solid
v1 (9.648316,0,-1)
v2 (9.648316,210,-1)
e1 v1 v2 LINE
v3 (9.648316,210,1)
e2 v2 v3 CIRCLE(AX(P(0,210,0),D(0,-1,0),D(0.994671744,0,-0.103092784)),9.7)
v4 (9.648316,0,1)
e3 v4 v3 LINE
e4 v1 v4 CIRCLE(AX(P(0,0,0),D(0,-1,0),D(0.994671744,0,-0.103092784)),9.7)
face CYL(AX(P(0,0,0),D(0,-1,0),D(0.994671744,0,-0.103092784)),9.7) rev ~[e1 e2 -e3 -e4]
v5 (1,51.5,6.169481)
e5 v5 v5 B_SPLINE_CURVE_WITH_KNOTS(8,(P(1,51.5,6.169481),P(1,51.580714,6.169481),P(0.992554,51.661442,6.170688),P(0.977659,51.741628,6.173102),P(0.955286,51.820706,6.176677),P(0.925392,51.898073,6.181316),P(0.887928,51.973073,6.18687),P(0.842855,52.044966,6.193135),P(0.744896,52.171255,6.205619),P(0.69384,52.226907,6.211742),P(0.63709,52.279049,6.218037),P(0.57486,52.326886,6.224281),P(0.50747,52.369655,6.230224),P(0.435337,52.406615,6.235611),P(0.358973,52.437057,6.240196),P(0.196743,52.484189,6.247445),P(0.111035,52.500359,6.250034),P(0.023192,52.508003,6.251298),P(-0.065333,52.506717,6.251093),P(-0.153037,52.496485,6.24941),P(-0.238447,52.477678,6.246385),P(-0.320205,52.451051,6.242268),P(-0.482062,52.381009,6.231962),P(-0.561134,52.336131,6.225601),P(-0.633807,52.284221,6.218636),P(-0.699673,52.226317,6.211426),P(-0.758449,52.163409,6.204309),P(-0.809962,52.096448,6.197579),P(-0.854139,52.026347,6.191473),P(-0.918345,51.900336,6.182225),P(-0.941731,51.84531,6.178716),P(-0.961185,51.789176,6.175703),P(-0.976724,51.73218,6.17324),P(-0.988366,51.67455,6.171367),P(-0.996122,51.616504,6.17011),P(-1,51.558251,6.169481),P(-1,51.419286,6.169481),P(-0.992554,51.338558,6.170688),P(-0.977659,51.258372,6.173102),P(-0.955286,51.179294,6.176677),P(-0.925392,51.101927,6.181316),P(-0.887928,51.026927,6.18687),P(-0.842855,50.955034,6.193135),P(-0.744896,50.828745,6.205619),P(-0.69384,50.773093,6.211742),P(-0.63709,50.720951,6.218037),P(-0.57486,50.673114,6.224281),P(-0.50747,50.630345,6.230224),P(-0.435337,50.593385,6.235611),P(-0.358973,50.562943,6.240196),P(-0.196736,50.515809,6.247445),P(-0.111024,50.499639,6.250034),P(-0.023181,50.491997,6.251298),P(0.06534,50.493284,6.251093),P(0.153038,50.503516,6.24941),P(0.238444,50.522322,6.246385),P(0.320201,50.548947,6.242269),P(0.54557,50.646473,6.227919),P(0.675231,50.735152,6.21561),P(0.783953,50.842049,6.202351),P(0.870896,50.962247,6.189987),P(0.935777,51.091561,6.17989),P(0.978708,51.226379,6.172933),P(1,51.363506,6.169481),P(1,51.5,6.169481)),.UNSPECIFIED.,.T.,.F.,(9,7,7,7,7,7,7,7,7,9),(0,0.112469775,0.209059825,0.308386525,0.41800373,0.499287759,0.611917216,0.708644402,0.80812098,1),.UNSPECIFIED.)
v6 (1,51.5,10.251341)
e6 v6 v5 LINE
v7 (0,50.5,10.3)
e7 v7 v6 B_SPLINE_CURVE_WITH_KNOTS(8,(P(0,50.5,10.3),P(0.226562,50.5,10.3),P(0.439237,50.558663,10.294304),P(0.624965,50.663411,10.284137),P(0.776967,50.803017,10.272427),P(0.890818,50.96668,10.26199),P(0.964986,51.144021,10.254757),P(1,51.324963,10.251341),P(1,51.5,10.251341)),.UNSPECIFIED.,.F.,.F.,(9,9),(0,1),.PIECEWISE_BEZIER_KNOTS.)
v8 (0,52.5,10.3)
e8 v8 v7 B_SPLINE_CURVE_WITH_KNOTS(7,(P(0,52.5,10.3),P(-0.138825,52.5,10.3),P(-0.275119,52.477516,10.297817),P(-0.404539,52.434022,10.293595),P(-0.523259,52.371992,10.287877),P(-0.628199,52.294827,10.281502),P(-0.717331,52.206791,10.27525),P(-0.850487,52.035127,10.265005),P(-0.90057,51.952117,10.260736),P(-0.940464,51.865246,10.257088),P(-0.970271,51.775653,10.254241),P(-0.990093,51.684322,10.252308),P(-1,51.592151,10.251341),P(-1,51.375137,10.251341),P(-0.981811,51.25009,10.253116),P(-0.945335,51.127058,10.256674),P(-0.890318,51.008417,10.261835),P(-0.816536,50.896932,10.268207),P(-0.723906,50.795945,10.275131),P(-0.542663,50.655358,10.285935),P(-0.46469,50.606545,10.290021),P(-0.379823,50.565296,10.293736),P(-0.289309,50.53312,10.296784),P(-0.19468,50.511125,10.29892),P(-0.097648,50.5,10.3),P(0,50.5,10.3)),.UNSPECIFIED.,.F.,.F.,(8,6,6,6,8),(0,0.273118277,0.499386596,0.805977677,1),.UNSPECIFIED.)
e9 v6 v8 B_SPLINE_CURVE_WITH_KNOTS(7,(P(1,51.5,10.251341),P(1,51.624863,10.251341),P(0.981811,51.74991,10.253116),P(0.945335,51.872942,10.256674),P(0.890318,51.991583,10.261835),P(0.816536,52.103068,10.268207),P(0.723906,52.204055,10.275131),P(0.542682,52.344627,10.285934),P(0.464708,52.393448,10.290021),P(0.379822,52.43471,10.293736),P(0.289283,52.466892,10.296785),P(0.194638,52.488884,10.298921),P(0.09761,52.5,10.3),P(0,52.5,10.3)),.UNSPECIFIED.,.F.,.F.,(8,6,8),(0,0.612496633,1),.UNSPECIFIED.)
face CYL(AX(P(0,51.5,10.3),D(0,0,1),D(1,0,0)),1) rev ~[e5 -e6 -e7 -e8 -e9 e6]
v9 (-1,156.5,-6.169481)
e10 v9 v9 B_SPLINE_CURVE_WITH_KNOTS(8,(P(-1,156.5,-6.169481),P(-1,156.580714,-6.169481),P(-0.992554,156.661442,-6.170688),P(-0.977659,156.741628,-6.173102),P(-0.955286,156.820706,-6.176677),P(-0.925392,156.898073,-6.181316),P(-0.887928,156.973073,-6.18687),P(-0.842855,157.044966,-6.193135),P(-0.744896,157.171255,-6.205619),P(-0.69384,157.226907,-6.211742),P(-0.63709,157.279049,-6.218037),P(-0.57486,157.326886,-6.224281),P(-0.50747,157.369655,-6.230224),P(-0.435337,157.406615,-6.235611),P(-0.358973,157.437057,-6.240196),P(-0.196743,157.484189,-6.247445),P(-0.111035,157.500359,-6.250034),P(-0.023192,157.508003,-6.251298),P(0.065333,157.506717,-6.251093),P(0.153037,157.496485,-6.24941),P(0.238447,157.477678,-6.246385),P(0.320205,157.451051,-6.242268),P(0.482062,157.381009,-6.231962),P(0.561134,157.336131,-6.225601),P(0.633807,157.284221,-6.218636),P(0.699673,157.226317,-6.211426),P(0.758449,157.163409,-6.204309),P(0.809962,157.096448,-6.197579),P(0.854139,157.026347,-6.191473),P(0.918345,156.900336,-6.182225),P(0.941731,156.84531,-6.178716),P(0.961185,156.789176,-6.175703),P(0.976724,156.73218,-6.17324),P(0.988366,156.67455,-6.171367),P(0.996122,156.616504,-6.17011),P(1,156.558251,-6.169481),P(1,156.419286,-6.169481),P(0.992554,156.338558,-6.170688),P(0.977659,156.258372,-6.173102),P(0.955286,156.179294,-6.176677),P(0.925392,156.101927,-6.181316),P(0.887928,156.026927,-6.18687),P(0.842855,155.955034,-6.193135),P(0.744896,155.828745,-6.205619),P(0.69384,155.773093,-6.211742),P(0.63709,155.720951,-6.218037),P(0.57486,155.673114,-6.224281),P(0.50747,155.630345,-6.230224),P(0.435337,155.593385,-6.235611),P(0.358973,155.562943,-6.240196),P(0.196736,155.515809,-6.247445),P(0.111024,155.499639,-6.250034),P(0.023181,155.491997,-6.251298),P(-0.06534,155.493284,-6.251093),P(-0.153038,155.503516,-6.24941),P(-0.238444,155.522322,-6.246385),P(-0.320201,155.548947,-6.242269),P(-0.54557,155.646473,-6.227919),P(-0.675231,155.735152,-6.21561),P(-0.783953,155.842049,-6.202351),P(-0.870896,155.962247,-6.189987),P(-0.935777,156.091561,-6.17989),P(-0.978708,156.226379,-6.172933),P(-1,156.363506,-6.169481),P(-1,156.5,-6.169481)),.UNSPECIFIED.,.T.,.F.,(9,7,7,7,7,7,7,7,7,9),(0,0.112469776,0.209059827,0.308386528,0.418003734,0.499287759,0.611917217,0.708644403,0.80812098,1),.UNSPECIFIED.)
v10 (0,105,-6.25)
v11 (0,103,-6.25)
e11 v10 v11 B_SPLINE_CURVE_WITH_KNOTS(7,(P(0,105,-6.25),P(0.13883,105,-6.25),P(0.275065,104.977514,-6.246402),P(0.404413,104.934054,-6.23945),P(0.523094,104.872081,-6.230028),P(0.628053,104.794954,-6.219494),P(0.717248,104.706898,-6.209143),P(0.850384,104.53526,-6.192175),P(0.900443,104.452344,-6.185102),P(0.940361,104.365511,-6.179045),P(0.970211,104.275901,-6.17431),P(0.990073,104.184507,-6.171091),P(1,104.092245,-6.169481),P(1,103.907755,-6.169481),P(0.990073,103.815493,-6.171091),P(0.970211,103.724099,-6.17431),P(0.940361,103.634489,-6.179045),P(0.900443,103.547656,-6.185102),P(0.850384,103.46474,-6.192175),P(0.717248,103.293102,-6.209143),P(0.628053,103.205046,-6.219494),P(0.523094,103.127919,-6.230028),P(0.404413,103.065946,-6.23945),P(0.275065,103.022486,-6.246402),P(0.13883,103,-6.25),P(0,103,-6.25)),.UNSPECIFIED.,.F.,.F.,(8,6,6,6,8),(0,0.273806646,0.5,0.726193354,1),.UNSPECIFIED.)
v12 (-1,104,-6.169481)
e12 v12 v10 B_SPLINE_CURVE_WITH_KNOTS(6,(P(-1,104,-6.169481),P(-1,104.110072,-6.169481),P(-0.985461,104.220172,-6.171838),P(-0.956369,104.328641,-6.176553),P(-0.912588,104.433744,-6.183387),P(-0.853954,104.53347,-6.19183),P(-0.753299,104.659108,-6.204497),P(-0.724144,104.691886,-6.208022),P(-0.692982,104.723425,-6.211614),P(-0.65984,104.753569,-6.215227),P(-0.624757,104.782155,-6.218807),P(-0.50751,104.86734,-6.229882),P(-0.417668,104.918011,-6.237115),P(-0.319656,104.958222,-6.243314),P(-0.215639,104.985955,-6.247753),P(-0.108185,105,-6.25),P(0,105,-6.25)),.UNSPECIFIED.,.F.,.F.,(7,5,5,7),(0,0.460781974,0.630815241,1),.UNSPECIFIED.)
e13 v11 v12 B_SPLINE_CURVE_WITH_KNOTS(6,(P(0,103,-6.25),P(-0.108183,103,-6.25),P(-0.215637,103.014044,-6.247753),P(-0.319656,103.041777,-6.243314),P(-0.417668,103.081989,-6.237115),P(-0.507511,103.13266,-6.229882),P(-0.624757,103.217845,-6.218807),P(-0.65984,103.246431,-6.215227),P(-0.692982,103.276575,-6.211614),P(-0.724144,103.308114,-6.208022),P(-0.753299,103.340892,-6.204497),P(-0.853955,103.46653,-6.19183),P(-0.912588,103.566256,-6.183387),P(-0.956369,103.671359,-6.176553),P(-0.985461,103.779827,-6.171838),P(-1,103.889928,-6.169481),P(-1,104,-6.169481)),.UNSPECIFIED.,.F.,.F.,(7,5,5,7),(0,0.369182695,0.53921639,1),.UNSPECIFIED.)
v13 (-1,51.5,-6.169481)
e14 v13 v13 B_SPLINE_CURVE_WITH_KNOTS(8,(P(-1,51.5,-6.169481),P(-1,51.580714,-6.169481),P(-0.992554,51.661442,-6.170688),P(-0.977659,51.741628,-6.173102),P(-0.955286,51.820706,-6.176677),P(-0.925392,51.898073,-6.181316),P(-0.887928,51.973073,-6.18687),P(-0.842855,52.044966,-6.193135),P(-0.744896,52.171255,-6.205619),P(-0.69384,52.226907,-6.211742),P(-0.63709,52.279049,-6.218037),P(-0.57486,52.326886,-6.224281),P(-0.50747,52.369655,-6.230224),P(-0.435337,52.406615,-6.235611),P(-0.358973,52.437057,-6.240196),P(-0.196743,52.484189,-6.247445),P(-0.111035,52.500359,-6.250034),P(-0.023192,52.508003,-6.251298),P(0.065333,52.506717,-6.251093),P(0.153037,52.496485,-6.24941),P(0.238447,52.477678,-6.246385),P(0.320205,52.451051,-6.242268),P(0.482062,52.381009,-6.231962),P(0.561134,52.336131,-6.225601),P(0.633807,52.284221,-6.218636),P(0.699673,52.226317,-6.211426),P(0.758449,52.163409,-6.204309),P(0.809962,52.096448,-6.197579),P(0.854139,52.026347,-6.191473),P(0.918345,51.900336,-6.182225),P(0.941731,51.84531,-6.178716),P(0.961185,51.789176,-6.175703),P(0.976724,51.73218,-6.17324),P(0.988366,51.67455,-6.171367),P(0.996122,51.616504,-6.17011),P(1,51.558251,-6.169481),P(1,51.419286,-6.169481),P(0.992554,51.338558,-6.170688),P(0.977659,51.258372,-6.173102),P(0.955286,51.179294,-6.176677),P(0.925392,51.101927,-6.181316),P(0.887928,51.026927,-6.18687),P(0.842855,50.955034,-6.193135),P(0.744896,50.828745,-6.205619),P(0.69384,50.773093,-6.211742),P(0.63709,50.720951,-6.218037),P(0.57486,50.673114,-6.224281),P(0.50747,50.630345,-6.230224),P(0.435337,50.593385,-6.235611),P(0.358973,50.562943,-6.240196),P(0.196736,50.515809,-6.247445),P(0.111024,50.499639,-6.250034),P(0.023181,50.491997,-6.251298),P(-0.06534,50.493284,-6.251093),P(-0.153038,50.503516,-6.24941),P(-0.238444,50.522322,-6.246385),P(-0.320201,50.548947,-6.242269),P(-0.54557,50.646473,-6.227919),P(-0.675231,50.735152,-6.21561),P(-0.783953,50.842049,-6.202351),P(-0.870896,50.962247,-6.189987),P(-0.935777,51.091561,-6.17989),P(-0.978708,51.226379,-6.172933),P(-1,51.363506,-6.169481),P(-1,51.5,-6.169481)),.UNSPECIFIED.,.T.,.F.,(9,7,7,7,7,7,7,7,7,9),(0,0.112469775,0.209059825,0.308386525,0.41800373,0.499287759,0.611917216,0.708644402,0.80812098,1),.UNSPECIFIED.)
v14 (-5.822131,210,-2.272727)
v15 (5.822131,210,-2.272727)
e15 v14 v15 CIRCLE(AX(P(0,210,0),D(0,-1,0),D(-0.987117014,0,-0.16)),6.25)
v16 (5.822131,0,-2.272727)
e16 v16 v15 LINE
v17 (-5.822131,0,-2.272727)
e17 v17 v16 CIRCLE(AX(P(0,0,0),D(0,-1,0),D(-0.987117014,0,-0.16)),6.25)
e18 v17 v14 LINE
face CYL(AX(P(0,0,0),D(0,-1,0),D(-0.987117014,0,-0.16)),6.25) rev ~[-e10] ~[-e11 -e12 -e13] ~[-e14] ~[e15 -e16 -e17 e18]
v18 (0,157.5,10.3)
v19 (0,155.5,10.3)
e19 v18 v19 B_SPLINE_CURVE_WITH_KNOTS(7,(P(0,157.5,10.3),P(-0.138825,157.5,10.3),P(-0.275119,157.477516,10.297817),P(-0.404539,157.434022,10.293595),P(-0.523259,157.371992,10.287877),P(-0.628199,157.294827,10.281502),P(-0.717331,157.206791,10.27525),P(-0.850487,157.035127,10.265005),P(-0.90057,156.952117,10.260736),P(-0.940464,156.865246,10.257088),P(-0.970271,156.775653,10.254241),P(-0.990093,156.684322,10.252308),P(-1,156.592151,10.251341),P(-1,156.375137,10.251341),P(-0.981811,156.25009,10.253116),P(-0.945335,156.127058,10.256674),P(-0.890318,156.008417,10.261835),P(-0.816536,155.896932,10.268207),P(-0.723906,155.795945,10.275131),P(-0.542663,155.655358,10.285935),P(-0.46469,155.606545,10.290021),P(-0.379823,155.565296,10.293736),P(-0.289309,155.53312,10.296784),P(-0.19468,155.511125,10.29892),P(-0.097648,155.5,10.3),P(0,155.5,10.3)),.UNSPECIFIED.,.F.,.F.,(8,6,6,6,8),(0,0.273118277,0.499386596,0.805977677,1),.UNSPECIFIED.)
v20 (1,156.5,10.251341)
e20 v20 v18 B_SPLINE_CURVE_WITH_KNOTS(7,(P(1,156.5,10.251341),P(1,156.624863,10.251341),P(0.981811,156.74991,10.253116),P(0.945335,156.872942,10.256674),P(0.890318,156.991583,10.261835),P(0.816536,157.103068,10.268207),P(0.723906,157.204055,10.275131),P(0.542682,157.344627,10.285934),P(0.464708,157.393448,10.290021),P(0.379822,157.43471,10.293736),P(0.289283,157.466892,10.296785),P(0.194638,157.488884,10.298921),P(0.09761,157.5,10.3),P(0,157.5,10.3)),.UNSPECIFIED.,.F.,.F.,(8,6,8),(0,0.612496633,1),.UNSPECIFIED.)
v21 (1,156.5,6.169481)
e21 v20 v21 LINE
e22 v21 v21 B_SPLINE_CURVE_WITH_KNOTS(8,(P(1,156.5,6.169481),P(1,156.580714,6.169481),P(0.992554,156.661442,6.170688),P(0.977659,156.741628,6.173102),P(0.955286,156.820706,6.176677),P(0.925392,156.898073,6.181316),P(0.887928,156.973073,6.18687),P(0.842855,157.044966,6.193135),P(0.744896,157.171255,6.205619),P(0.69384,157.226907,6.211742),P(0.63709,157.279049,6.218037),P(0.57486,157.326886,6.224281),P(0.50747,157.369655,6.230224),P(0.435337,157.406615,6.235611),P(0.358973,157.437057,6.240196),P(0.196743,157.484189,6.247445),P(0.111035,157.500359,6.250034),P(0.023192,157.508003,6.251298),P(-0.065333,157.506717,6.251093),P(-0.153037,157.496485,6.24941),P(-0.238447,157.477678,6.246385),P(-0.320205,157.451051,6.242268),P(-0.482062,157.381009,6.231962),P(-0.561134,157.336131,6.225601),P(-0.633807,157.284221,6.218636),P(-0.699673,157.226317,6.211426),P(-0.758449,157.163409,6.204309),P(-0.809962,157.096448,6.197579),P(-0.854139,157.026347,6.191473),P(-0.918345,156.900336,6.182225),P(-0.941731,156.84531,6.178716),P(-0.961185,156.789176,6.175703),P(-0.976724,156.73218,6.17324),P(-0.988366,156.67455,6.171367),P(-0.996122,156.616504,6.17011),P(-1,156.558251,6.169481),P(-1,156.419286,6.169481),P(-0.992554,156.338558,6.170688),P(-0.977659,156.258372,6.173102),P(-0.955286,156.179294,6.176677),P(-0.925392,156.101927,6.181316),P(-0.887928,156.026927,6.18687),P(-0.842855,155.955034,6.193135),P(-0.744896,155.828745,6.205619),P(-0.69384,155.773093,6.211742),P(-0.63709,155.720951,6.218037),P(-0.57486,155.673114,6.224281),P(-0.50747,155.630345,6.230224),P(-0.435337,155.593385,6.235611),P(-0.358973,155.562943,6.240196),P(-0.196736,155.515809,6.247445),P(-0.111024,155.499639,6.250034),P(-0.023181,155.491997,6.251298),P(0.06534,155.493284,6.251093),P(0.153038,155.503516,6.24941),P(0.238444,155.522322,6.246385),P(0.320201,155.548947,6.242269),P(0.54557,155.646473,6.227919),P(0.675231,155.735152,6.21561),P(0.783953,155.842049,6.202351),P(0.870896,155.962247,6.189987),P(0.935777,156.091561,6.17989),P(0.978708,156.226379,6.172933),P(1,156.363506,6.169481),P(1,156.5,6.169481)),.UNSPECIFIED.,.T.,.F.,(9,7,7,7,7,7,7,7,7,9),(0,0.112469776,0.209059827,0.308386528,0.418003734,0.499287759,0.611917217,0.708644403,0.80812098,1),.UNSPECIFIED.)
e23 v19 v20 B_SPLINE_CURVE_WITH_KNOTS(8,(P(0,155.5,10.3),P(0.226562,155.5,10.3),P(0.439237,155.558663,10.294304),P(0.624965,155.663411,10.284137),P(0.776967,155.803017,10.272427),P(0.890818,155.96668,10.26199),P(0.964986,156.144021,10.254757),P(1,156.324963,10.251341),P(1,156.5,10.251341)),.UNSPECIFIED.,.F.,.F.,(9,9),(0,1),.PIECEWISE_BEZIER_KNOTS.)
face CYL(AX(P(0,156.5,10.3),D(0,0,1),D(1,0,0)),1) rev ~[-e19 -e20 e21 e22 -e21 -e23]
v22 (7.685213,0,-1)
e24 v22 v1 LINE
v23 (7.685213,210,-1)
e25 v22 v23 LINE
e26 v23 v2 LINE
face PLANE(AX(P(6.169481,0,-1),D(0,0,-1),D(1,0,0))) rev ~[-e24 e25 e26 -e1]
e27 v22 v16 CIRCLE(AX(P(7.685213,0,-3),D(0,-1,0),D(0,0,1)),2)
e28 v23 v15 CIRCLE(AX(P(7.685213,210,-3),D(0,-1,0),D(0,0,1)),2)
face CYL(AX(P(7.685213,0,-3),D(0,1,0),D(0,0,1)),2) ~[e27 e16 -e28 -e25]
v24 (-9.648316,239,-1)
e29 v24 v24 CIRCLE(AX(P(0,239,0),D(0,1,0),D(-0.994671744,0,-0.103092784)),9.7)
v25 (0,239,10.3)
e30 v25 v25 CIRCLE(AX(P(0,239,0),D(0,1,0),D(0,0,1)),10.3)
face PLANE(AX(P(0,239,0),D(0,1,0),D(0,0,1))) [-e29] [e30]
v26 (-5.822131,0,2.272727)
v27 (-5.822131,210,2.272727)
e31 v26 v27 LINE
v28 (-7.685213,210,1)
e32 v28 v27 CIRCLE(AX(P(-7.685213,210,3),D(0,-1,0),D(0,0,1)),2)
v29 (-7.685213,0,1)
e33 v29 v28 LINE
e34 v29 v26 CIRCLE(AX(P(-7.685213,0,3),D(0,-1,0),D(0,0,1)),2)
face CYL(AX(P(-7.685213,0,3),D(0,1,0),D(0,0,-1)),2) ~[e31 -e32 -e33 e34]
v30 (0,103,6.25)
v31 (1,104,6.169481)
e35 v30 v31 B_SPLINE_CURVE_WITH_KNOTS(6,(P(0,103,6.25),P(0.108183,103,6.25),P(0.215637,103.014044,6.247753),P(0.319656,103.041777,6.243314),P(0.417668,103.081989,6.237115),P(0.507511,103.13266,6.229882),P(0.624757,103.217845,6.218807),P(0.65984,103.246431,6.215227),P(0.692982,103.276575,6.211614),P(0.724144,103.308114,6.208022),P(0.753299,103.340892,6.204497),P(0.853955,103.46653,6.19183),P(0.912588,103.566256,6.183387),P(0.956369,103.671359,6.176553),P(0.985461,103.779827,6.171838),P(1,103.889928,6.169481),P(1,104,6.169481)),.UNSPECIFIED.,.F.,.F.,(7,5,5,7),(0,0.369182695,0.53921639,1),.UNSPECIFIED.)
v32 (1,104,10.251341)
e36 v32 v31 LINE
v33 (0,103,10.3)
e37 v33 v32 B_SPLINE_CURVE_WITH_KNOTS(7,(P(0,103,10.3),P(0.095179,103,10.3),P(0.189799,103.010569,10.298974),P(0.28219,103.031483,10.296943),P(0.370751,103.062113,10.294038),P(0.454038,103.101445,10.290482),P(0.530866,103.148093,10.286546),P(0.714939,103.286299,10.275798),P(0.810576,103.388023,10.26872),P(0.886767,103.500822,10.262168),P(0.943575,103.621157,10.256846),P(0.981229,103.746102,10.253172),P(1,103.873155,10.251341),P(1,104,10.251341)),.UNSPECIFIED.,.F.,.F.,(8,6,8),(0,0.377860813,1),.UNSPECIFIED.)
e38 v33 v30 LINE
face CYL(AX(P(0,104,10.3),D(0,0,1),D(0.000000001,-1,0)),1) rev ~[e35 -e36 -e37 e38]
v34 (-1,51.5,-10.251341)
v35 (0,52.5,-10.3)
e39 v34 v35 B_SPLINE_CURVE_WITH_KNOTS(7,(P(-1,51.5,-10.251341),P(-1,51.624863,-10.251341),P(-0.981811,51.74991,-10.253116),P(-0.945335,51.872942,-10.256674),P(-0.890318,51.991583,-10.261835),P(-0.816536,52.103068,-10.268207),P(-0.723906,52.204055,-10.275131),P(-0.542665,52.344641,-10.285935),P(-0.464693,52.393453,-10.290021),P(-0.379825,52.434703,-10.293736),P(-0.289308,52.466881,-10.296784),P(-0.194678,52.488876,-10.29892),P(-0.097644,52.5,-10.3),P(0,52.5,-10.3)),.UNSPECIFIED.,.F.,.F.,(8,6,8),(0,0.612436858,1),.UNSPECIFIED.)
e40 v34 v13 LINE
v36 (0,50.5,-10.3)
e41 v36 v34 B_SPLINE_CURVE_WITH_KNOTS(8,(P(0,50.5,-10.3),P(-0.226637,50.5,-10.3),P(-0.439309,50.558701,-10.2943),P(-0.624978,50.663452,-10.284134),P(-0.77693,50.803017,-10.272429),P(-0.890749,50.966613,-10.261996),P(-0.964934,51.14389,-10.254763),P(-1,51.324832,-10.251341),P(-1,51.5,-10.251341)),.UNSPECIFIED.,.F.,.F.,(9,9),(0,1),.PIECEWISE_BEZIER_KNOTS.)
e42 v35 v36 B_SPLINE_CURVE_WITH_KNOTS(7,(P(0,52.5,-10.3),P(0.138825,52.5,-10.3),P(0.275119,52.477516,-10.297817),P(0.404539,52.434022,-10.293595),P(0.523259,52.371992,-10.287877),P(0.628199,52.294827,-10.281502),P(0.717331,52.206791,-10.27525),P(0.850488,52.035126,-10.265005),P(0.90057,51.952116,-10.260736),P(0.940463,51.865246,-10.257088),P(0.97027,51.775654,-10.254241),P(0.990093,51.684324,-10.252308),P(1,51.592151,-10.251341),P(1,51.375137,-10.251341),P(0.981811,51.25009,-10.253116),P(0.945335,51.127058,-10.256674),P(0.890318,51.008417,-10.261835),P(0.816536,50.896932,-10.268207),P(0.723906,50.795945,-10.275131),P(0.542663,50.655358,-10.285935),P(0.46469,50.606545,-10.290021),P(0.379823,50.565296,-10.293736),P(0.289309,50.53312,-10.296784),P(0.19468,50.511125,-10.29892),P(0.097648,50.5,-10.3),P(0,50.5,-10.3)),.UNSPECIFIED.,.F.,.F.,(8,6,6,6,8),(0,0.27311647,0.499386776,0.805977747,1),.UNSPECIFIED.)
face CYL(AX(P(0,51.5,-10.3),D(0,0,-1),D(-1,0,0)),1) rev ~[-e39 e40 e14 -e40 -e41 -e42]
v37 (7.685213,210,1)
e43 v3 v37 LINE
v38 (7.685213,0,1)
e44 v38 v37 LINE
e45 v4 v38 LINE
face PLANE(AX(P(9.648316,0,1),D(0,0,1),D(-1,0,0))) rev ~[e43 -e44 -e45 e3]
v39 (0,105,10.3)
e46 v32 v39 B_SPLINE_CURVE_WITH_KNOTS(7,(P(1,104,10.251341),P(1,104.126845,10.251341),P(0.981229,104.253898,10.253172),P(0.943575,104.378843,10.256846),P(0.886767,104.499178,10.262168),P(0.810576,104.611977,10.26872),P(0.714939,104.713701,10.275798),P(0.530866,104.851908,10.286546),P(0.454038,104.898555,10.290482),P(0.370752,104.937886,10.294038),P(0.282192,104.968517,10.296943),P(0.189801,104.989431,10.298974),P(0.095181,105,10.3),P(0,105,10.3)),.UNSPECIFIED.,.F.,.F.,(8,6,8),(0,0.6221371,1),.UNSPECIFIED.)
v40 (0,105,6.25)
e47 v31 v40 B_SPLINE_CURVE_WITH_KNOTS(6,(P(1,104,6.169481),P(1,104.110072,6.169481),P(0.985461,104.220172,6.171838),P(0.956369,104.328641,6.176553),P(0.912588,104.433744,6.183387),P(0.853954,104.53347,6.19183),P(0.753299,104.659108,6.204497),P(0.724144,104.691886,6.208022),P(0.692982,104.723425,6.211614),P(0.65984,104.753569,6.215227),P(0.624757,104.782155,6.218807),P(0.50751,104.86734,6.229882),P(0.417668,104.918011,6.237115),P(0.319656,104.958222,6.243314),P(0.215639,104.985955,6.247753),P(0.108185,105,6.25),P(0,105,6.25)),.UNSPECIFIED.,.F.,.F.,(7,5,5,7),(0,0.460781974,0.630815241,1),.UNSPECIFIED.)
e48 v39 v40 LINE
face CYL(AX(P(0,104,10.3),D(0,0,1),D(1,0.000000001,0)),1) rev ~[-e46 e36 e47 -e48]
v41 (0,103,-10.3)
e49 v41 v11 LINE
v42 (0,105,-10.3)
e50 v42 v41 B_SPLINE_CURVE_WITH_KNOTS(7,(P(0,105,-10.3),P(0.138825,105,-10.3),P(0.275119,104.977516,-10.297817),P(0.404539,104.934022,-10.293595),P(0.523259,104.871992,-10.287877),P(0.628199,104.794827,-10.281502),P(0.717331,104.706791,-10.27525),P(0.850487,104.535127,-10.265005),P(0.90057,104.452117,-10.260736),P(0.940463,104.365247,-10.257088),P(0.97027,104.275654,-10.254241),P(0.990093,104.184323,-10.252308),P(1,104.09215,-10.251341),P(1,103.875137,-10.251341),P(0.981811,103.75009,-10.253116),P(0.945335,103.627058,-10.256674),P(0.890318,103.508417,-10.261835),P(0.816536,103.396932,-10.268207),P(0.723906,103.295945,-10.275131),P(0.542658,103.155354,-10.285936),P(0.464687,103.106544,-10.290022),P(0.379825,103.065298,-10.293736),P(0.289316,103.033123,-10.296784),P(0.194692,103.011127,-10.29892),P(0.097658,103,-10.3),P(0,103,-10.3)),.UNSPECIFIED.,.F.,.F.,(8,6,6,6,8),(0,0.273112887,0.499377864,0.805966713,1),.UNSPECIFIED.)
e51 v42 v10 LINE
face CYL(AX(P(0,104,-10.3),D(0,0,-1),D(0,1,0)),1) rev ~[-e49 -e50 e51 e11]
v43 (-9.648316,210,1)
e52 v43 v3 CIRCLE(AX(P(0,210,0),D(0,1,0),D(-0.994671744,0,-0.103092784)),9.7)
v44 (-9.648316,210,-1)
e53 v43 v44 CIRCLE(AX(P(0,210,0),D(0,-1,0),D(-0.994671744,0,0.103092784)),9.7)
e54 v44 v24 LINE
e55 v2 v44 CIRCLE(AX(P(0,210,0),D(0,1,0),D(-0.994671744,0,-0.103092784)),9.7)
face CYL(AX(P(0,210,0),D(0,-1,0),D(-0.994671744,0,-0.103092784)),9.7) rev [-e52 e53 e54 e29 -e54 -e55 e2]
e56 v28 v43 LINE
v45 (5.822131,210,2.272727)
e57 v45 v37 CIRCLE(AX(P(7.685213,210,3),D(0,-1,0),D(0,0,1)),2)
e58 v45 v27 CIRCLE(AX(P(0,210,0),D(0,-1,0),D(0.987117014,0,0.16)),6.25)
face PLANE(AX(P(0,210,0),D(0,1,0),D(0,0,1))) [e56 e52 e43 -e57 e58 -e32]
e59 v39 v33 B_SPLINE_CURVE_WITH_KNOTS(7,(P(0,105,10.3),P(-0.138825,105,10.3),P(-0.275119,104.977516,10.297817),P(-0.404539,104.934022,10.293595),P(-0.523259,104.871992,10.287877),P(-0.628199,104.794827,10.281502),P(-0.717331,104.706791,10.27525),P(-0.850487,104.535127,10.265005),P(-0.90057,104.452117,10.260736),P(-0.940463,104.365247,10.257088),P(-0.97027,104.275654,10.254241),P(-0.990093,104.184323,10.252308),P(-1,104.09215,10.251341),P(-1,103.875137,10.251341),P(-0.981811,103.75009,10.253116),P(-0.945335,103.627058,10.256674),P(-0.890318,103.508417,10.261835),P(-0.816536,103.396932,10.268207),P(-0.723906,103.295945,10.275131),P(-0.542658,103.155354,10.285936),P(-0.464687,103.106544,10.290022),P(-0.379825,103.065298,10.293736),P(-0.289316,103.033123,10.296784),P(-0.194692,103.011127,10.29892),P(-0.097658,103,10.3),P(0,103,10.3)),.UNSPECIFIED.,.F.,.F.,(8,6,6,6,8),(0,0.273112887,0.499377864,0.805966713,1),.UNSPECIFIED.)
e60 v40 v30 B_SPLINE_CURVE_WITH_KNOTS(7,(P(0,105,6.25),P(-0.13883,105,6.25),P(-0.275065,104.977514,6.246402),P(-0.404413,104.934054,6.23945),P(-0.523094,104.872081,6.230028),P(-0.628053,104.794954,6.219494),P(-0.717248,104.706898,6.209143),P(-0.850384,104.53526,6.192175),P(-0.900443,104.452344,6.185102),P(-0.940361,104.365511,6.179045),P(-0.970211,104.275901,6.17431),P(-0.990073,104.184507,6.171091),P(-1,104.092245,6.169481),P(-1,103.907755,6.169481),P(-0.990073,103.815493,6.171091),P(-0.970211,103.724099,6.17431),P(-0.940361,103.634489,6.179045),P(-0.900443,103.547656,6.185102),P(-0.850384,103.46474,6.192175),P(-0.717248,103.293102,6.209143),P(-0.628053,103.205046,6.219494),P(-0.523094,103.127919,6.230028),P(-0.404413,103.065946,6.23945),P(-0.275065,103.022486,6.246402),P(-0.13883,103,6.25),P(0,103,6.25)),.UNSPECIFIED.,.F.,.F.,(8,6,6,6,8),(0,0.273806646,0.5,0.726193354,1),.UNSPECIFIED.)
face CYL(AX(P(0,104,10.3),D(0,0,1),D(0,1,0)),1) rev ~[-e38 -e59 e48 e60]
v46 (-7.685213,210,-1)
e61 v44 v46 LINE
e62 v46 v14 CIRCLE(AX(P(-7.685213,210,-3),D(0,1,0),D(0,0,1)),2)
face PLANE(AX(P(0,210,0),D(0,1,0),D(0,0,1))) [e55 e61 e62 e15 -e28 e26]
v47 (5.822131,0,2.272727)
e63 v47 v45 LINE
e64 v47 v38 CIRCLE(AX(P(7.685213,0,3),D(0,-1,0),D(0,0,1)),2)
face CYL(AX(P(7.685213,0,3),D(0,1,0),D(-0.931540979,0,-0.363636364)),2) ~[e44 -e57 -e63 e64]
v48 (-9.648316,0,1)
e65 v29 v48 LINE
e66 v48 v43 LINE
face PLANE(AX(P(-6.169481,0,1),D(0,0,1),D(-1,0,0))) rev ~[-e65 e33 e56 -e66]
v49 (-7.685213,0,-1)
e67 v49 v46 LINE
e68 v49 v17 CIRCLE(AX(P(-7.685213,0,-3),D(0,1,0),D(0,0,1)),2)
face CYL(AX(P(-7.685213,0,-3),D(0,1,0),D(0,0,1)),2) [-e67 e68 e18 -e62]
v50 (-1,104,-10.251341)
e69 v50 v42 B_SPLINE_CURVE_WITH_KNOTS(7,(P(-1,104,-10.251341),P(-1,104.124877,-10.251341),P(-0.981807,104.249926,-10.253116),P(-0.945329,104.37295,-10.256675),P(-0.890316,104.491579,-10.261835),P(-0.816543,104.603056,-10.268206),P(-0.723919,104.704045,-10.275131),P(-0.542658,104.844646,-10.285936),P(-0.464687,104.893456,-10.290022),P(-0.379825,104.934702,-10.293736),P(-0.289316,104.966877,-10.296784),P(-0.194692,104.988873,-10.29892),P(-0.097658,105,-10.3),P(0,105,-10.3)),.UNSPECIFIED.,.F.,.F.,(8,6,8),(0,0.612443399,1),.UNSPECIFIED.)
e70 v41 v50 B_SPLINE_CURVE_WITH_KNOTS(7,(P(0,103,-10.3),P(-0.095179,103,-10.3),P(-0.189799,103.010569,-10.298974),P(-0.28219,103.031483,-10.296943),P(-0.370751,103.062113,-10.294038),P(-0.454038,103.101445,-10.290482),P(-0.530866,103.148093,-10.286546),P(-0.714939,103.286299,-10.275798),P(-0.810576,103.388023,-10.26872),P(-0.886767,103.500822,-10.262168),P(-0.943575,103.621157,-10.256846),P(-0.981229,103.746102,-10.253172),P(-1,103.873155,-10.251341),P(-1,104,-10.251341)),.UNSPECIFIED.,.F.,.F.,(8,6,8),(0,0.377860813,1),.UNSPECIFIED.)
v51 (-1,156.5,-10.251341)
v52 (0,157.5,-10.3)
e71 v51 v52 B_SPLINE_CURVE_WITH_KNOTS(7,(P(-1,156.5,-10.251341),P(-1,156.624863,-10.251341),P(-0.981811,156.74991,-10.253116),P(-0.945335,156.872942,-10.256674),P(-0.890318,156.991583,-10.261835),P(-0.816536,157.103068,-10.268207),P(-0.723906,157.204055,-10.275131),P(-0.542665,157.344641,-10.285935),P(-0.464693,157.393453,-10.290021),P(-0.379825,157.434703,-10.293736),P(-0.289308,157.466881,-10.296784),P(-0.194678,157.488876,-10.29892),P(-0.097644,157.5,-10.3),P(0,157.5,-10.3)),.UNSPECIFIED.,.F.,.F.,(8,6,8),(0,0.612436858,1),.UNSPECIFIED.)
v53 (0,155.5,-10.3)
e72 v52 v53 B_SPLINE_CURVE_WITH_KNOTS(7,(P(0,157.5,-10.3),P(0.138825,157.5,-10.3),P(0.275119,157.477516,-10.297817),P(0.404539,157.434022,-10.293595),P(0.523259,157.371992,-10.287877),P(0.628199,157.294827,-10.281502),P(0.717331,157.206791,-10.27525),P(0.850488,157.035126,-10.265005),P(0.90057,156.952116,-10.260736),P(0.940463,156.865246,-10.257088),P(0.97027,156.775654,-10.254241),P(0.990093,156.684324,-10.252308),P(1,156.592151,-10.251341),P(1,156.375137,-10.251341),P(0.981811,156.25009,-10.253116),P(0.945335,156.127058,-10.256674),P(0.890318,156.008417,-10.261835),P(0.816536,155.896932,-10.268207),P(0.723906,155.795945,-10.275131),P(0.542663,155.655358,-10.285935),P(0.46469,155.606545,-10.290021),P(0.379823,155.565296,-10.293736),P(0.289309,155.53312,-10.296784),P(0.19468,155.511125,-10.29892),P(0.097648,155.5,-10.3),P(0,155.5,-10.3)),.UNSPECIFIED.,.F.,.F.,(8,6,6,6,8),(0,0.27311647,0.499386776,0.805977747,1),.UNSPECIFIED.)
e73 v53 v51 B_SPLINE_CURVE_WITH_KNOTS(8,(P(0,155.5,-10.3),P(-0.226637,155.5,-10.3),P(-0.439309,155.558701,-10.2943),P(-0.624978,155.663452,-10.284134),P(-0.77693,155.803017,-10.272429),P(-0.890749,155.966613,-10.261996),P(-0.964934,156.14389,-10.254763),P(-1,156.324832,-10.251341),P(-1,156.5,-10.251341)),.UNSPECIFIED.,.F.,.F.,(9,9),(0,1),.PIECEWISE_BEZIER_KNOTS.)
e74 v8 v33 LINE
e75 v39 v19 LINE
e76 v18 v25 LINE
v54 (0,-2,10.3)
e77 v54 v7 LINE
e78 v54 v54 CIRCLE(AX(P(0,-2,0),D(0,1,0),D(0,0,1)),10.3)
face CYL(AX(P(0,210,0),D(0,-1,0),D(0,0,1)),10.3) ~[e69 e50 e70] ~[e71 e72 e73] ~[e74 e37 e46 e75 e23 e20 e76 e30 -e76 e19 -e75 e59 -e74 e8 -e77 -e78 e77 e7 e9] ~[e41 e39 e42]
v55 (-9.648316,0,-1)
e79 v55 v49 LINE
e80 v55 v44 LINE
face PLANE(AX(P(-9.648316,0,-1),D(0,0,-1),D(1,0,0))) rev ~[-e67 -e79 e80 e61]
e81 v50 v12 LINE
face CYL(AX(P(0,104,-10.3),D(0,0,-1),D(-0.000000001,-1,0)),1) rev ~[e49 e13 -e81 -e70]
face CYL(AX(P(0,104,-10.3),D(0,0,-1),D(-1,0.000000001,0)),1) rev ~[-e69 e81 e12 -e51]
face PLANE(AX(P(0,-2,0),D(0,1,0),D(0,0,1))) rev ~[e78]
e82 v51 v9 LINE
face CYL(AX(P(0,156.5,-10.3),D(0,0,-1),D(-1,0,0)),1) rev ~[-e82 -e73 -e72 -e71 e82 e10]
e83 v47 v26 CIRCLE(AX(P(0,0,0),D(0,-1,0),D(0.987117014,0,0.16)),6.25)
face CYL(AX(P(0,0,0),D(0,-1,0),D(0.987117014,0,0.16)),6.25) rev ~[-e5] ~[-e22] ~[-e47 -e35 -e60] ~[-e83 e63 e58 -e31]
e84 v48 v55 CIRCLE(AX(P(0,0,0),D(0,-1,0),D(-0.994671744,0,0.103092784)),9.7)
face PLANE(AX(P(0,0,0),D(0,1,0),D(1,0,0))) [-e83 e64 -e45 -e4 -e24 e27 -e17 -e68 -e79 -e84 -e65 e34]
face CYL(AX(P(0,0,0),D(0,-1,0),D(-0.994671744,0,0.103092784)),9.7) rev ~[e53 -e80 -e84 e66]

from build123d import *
from build123d.topology import SkipClean

# Parameters (mm, degrees)
SKETCH1_R               = 10.3
BOSS_EXTRUDE1_DEPTH     = 210
BOSS_EXTRUDE3_START     = -2
SKETCH1_4_R             = 10.3
SKETCH1_4_R_2           = 9.7
SKETCH1_4_R_3           = 6.25
BOSS_EXTRUDE3_DEPTH     = 2
BOSS_EXTRUDE2_START     = 210
SKETCH1_3_R             = 10.3
SKETCH1_3_R_2           = 9.7
BOSS_EXTRUDE2_DEPTH     = 29
FILLET1_R               = 2
CUT_EXTRUDE1_REACH      = 242.107
CUT_EXTRUDE1_END_RADIUS = 6.25
SKETCH3_R               = 1
CIRPATTERN1_COUNT       = 2


with BuildPart() as part:
    # Sketch1 → Boss-Extrude1 (new body)
    with BuildSketch(Plane(origin=(0, 0, 0), x_dir=(1, 0, 0), z_dir=(0, 1, 0))):
        with Locations(Location((0, 0, 0), (0, 0, 270))):
            Circle(SKETCH1_R)
        with BuildLine():
            Line((6.16948134, 1), (9.648315915, 1))
            ThreePointArc((9.648315915, 1), (9.7, 0), (9.648315915, -1))
            Line((9.648315915, -1), (6.16948134, -1))
            ThreePointArc((6.16948134, -1), (0, -6.25), (-6.16948134, -1))
            Line((-6.16948134, -1), (-9.648315915, -1))
            ThreePointArc((-9.648315915, -1), (-9.7, 0), (-9.648315915, 1))
            Line((-9.648315915, 1), (-6.16948134, 1))
            ThreePointArc((-6.16948134, 1), (0, 6.25), (6.16948134, 1))
        make_face(mode=Mode.SUBTRACT)
    extrude(amount=BOSS_EXTRUDE1_DEPTH)

    # Sketch1<4> → Boss-Extrude3 (add)
    # profile 1 of 6: a face of its own
    with BuildSketch(Plane(origin=(0, 0, 0), x_dir=(1, 0, 0), z_dir=(0, 1, 0)).offset(BOSS_EXTRUDE3_START)):
        with Locations(Location((0, 0, 0), (0, 0, 270))):
            Circle(SKETCH1_4_R)
        Circle(SKETCH1_4_R_2, mode=Mode.SUBTRACT)
    # profile 2 of 6: a face of its own
    with BuildSketch(Plane(origin=(0, 0, 0), x_dir=(1, 0, 0), z_dir=(0, 1, 0)).offset(BOSS_EXTRUDE3_START)):
        with BuildLine():
            ThreePointArc((9.648315915, 1), (0, 9.7), (-9.648315915, 1))
            Line((-9.648315915, 1), (-6.16948134, 1))
            ThreePointArc((-6.16948134, 1), (0, 6.25), (6.16948134, 1))
            Line((6.16948134, 1), (9.648315915, 1))
        make_face()
    # profile 3 of 6: a face of its own
    with BuildSketch(Plane(origin=(0, 0, 0), x_dir=(1, 0, 0), z_dir=(0, 1, 0)).offset(BOSS_EXTRUDE3_START)):
        with BuildLine():
            ThreePointArc((9.7, 0), (9.687070362, 0.500667366), (9.648315915, 1))
            Line((9.648315915, 1), (6.16948134, 1))
            ThreePointArc((6.16948134, 1), (6.229837814, 0.501618195), (6.25, 0))
            ThreePointArc((6.25, 0), (6.229837814, -0.501618195), (6.16948134, -1))
            Line((6.16948134, -1), (9.648315915, -1))
            ThreePointArc((9.648315915, -1), (9.687070362, -0.500667366), (9.7, 0))
        make_face()
    # profile 4 of 6: a face of its own
    with BuildSketch(Plane(origin=(0, 0, 0), x_dir=(1, 0, 0), z_dir=(0, 1, 0)).offset(BOSS_EXTRUDE3_START)):
        with BuildLine():
            Line((-6.16948134, -1), (-9.648315915, -1))
            ThreePointArc((-9.648315915, -1), (0, -9.7), (9.648315915, -1))
            Line((9.648315915, -1), (6.16948134, -1))
            ThreePointArc((6.16948134, -1), (0, -6.25), (-6.16948134, -1))
        make_face()
    # profile 5 of 6: a face of its own
    with BuildSketch(Plane(origin=(0, 0, 0), x_dir=(1, 0, 0), z_dir=(0, 1, 0)).offset(BOSS_EXTRUDE3_START)):
        Circle(SKETCH1_4_R_3)
    # profile 6 of 6: a face of its own
    with BuildSketch(Plane(origin=(0, 0, 0), x_dir=(1, 0, 0), z_dir=(0, 1, 0)).offset(BOSS_EXTRUDE3_START)):
        with BuildLine():
            Line((-6.16948134, 1), (-9.648315915, 1))
            ThreePointArc((-9.648315915, 1), (-9.7, 0), (-9.648315915, -1))
            Line((-9.648315915, -1), (-6.16948134, -1))
            ThreePointArc((-6.16948134, -1), (-6.25, 0), (-6.16948134, 1))
        make_face()
    extrude(amount=BOSS_EXTRUDE3_DEPTH)

    # Sketch1<3> → Boss-Extrude2 (add)
    with SkipClean():  # the faces are left unmerged after this step: merging them gives an invalid solid
        with BuildSketch(Plane(origin=(0, 0, 0), x_dir=(1, 0, 0), z_dir=(0, 1, 0)).offset(BOSS_EXTRUDE2_START)):
            with Locations(Location((0, 0, 0), (0, 0, 270))):
                Circle(SKETCH1_3_R)
            with Locations(Location((0, 0, 0), (0, 0, 174.082705248))):
                Circle(SKETCH1_3_R_2, mode=Mode.SUBTRACT)
        extrude(amount=BOSS_EXTRUDE2_DEPTH)

    # Fillet1
    fillet1_edges = [part.edges().sort_by_distance(p)[0] for p in [
        (6.16948134, 105, 1),
        (6.16948134, 105, -1),
        (-6.16948134, 105, -1),
        (-6.16948134, 105, 1),
    ]]
    fillet(fillet1_edges, radius=FILLET1_R)

    # Cut-Extrude1: up to this cylinder (the profile starts outside it)
    with SkipClean():  # the faces are left unmerged after this step: merging them gives an invalid solid
        cut_extrude1_end = Plane(origin=(0, 104, 0), z_dir=(0, -1, 0)) * Cylinder(CUT_EXTRUDE1_END_RADIUS, 602.714, mode=Mode.PRIVATE)
        # Sketch3 → Cut-Extrude1 (cut, up to the surface)
        with BuildSketch(Plane.XY.offset(10.3), mode=Mode.PRIVATE) as cut_extrude1_sk1:
            with BuildLine():
                ThreePointArc((1, 104), (0.707106781, 104.707106781), (0, 105))
                Line((0, 105), (0, 103))
                ThreePointArc((0, 103), (0.707106781, 103.292893219), (1, 104))
            make_face()
        cut_extrude1_tool1 = extrude(cut_extrude1_sk1.sketch, amount=-CUT_EXTRUDE1_REACH, mode=Mode.PRIVATE) - cut_extrude1_end
        # Sketch3 → Cut-Extrude1 (cut, up to the surface)
        with BuildSketch(Plane.XY.offset(10.3), mode=Mode.PRIVATE) as cut_extrude1_sk2:
            with BuildLine():
                Line((0, 103), (0, 105))
                ThreePointArc((0, 105), (-1, 104), (0, 103))
            make_face()
        cut_extrude1_tool2 = extrude(cut_extrude1_sk2.sketch, amount=-CUT_EXTRUDE1_REACH, mode=Mode.PRIVATE) - cut_extrude1_end
        # Sketch3 → Cut-Extrude1 (cut, up to the surface)
        with BuildSketch(Plane.XY.offset(10.3), mode=Mode.PRIVATE) as cut_extrude1_sk3:
            with BuildLine():
                ThreePointArc((1, 104), (0.707106781, 104.707106781), (0, 105))
                Line((0, 105), (0, 103))
                ThreePointArc((0, 103), (0.707106781, 103.292893219), (1, 104))
            make_face()
        cut_extrude1_tool3 = extrude(cut_extrude1_sk3.sketch, amount=-CUT_EXTRUDE1_REACH, mode=Mode.PRIVATE) - cut_extrude1_end
        # Sketch3 → Cut-Extrude1 (cut, up to the surface)
        with BuildSketch(Plane.XY.offset(10.3), mode=Mode.PRIVATE) as cut_extrude1_sk4:
            with BuildLine():
                Line((0, 103), (0, 105))
                ThreePointArc((0, 105), (-1, 104), (0, 103))
            make_face()
        cut_extrude1_tool4 = extrude(cut_extrude1_sk4.sketch, amount=-CUT_EXTRUDE1_REACH, mode=Mode.PRIVATE) - cut_extrude1_end
        # Sketch3 → Cut-Extrude1 (cut, up to the surface)
        with BuildSketch(Plane.XY.offset(10.3), mode=Mode.PRIVATE) as cut_extrude1_sk5:
            with Locations((0, 156.5)):
                Circle(SKETCH3_R)
        cut_extrude1_tool5 = extrude(cut_extrude1_sk5.sketch, amount=-CUT_EXTRUDE1_REACH, mode=Mode.PRIVATE) - cut_extrude1_end
        # Sketch3 → Cut-Extrude1 (cut, up to the surface)
        with BuildSketch(Plane.XY.offset(10.3), mode=Mode.PRIVATE) as cut_extrude1_sk6:
            with Locations((0, 51.5)):
                Circle(SKETCH3_R)
        cut_extrude1_tool6 = extrude(cut_extrude1_sk6.sketch, amount=-CUT_EXTRUDE1_REACH, mode=Mode.PRIVATE) - cut_extrude1_end
        cut_extrude1 = cut_extrude1_tool1.solids().sort_by_distance((0.424413, 104, 10.3))[0] + cut_extrude1_tool2.solids().sort_by_distance((-0.424413, 104, 10.3))[0] + cut_extrude1_tool3.solids().sort_by_distance((0.424413, 104, 10.3))[0] + cut_extrude1_tool4.solids().sort_by_distance((-0.424413, 104, 10.3))[0] + cut_extrude1_tool5.solids().sort_by_distance((0, 156.5, 10.3))[0] + cut_extrude1_tool6.solids().sort_by_distance((0, 51.5, 10.3))[0]
        add(cut_extrude1, mode=Mode.SUBTRACT)

    # CirPattern1: Cut-Extrude1 ×2 about axis
    with SkipClean():  # the faces are left unmerged after this step: merging them gives an invalid solid
        cirpattern1_axis = Axis((0, 210, 0), (0, -1, 0))
        for i in range(1, CIRPATTERN1_COUNT):
            add(cut_extrude1.rotate(cirpattern1_axis, i * 360 / CIRPATTERN1_COUNT), mode=Mode.SUBTRACT)


solid = part.part
